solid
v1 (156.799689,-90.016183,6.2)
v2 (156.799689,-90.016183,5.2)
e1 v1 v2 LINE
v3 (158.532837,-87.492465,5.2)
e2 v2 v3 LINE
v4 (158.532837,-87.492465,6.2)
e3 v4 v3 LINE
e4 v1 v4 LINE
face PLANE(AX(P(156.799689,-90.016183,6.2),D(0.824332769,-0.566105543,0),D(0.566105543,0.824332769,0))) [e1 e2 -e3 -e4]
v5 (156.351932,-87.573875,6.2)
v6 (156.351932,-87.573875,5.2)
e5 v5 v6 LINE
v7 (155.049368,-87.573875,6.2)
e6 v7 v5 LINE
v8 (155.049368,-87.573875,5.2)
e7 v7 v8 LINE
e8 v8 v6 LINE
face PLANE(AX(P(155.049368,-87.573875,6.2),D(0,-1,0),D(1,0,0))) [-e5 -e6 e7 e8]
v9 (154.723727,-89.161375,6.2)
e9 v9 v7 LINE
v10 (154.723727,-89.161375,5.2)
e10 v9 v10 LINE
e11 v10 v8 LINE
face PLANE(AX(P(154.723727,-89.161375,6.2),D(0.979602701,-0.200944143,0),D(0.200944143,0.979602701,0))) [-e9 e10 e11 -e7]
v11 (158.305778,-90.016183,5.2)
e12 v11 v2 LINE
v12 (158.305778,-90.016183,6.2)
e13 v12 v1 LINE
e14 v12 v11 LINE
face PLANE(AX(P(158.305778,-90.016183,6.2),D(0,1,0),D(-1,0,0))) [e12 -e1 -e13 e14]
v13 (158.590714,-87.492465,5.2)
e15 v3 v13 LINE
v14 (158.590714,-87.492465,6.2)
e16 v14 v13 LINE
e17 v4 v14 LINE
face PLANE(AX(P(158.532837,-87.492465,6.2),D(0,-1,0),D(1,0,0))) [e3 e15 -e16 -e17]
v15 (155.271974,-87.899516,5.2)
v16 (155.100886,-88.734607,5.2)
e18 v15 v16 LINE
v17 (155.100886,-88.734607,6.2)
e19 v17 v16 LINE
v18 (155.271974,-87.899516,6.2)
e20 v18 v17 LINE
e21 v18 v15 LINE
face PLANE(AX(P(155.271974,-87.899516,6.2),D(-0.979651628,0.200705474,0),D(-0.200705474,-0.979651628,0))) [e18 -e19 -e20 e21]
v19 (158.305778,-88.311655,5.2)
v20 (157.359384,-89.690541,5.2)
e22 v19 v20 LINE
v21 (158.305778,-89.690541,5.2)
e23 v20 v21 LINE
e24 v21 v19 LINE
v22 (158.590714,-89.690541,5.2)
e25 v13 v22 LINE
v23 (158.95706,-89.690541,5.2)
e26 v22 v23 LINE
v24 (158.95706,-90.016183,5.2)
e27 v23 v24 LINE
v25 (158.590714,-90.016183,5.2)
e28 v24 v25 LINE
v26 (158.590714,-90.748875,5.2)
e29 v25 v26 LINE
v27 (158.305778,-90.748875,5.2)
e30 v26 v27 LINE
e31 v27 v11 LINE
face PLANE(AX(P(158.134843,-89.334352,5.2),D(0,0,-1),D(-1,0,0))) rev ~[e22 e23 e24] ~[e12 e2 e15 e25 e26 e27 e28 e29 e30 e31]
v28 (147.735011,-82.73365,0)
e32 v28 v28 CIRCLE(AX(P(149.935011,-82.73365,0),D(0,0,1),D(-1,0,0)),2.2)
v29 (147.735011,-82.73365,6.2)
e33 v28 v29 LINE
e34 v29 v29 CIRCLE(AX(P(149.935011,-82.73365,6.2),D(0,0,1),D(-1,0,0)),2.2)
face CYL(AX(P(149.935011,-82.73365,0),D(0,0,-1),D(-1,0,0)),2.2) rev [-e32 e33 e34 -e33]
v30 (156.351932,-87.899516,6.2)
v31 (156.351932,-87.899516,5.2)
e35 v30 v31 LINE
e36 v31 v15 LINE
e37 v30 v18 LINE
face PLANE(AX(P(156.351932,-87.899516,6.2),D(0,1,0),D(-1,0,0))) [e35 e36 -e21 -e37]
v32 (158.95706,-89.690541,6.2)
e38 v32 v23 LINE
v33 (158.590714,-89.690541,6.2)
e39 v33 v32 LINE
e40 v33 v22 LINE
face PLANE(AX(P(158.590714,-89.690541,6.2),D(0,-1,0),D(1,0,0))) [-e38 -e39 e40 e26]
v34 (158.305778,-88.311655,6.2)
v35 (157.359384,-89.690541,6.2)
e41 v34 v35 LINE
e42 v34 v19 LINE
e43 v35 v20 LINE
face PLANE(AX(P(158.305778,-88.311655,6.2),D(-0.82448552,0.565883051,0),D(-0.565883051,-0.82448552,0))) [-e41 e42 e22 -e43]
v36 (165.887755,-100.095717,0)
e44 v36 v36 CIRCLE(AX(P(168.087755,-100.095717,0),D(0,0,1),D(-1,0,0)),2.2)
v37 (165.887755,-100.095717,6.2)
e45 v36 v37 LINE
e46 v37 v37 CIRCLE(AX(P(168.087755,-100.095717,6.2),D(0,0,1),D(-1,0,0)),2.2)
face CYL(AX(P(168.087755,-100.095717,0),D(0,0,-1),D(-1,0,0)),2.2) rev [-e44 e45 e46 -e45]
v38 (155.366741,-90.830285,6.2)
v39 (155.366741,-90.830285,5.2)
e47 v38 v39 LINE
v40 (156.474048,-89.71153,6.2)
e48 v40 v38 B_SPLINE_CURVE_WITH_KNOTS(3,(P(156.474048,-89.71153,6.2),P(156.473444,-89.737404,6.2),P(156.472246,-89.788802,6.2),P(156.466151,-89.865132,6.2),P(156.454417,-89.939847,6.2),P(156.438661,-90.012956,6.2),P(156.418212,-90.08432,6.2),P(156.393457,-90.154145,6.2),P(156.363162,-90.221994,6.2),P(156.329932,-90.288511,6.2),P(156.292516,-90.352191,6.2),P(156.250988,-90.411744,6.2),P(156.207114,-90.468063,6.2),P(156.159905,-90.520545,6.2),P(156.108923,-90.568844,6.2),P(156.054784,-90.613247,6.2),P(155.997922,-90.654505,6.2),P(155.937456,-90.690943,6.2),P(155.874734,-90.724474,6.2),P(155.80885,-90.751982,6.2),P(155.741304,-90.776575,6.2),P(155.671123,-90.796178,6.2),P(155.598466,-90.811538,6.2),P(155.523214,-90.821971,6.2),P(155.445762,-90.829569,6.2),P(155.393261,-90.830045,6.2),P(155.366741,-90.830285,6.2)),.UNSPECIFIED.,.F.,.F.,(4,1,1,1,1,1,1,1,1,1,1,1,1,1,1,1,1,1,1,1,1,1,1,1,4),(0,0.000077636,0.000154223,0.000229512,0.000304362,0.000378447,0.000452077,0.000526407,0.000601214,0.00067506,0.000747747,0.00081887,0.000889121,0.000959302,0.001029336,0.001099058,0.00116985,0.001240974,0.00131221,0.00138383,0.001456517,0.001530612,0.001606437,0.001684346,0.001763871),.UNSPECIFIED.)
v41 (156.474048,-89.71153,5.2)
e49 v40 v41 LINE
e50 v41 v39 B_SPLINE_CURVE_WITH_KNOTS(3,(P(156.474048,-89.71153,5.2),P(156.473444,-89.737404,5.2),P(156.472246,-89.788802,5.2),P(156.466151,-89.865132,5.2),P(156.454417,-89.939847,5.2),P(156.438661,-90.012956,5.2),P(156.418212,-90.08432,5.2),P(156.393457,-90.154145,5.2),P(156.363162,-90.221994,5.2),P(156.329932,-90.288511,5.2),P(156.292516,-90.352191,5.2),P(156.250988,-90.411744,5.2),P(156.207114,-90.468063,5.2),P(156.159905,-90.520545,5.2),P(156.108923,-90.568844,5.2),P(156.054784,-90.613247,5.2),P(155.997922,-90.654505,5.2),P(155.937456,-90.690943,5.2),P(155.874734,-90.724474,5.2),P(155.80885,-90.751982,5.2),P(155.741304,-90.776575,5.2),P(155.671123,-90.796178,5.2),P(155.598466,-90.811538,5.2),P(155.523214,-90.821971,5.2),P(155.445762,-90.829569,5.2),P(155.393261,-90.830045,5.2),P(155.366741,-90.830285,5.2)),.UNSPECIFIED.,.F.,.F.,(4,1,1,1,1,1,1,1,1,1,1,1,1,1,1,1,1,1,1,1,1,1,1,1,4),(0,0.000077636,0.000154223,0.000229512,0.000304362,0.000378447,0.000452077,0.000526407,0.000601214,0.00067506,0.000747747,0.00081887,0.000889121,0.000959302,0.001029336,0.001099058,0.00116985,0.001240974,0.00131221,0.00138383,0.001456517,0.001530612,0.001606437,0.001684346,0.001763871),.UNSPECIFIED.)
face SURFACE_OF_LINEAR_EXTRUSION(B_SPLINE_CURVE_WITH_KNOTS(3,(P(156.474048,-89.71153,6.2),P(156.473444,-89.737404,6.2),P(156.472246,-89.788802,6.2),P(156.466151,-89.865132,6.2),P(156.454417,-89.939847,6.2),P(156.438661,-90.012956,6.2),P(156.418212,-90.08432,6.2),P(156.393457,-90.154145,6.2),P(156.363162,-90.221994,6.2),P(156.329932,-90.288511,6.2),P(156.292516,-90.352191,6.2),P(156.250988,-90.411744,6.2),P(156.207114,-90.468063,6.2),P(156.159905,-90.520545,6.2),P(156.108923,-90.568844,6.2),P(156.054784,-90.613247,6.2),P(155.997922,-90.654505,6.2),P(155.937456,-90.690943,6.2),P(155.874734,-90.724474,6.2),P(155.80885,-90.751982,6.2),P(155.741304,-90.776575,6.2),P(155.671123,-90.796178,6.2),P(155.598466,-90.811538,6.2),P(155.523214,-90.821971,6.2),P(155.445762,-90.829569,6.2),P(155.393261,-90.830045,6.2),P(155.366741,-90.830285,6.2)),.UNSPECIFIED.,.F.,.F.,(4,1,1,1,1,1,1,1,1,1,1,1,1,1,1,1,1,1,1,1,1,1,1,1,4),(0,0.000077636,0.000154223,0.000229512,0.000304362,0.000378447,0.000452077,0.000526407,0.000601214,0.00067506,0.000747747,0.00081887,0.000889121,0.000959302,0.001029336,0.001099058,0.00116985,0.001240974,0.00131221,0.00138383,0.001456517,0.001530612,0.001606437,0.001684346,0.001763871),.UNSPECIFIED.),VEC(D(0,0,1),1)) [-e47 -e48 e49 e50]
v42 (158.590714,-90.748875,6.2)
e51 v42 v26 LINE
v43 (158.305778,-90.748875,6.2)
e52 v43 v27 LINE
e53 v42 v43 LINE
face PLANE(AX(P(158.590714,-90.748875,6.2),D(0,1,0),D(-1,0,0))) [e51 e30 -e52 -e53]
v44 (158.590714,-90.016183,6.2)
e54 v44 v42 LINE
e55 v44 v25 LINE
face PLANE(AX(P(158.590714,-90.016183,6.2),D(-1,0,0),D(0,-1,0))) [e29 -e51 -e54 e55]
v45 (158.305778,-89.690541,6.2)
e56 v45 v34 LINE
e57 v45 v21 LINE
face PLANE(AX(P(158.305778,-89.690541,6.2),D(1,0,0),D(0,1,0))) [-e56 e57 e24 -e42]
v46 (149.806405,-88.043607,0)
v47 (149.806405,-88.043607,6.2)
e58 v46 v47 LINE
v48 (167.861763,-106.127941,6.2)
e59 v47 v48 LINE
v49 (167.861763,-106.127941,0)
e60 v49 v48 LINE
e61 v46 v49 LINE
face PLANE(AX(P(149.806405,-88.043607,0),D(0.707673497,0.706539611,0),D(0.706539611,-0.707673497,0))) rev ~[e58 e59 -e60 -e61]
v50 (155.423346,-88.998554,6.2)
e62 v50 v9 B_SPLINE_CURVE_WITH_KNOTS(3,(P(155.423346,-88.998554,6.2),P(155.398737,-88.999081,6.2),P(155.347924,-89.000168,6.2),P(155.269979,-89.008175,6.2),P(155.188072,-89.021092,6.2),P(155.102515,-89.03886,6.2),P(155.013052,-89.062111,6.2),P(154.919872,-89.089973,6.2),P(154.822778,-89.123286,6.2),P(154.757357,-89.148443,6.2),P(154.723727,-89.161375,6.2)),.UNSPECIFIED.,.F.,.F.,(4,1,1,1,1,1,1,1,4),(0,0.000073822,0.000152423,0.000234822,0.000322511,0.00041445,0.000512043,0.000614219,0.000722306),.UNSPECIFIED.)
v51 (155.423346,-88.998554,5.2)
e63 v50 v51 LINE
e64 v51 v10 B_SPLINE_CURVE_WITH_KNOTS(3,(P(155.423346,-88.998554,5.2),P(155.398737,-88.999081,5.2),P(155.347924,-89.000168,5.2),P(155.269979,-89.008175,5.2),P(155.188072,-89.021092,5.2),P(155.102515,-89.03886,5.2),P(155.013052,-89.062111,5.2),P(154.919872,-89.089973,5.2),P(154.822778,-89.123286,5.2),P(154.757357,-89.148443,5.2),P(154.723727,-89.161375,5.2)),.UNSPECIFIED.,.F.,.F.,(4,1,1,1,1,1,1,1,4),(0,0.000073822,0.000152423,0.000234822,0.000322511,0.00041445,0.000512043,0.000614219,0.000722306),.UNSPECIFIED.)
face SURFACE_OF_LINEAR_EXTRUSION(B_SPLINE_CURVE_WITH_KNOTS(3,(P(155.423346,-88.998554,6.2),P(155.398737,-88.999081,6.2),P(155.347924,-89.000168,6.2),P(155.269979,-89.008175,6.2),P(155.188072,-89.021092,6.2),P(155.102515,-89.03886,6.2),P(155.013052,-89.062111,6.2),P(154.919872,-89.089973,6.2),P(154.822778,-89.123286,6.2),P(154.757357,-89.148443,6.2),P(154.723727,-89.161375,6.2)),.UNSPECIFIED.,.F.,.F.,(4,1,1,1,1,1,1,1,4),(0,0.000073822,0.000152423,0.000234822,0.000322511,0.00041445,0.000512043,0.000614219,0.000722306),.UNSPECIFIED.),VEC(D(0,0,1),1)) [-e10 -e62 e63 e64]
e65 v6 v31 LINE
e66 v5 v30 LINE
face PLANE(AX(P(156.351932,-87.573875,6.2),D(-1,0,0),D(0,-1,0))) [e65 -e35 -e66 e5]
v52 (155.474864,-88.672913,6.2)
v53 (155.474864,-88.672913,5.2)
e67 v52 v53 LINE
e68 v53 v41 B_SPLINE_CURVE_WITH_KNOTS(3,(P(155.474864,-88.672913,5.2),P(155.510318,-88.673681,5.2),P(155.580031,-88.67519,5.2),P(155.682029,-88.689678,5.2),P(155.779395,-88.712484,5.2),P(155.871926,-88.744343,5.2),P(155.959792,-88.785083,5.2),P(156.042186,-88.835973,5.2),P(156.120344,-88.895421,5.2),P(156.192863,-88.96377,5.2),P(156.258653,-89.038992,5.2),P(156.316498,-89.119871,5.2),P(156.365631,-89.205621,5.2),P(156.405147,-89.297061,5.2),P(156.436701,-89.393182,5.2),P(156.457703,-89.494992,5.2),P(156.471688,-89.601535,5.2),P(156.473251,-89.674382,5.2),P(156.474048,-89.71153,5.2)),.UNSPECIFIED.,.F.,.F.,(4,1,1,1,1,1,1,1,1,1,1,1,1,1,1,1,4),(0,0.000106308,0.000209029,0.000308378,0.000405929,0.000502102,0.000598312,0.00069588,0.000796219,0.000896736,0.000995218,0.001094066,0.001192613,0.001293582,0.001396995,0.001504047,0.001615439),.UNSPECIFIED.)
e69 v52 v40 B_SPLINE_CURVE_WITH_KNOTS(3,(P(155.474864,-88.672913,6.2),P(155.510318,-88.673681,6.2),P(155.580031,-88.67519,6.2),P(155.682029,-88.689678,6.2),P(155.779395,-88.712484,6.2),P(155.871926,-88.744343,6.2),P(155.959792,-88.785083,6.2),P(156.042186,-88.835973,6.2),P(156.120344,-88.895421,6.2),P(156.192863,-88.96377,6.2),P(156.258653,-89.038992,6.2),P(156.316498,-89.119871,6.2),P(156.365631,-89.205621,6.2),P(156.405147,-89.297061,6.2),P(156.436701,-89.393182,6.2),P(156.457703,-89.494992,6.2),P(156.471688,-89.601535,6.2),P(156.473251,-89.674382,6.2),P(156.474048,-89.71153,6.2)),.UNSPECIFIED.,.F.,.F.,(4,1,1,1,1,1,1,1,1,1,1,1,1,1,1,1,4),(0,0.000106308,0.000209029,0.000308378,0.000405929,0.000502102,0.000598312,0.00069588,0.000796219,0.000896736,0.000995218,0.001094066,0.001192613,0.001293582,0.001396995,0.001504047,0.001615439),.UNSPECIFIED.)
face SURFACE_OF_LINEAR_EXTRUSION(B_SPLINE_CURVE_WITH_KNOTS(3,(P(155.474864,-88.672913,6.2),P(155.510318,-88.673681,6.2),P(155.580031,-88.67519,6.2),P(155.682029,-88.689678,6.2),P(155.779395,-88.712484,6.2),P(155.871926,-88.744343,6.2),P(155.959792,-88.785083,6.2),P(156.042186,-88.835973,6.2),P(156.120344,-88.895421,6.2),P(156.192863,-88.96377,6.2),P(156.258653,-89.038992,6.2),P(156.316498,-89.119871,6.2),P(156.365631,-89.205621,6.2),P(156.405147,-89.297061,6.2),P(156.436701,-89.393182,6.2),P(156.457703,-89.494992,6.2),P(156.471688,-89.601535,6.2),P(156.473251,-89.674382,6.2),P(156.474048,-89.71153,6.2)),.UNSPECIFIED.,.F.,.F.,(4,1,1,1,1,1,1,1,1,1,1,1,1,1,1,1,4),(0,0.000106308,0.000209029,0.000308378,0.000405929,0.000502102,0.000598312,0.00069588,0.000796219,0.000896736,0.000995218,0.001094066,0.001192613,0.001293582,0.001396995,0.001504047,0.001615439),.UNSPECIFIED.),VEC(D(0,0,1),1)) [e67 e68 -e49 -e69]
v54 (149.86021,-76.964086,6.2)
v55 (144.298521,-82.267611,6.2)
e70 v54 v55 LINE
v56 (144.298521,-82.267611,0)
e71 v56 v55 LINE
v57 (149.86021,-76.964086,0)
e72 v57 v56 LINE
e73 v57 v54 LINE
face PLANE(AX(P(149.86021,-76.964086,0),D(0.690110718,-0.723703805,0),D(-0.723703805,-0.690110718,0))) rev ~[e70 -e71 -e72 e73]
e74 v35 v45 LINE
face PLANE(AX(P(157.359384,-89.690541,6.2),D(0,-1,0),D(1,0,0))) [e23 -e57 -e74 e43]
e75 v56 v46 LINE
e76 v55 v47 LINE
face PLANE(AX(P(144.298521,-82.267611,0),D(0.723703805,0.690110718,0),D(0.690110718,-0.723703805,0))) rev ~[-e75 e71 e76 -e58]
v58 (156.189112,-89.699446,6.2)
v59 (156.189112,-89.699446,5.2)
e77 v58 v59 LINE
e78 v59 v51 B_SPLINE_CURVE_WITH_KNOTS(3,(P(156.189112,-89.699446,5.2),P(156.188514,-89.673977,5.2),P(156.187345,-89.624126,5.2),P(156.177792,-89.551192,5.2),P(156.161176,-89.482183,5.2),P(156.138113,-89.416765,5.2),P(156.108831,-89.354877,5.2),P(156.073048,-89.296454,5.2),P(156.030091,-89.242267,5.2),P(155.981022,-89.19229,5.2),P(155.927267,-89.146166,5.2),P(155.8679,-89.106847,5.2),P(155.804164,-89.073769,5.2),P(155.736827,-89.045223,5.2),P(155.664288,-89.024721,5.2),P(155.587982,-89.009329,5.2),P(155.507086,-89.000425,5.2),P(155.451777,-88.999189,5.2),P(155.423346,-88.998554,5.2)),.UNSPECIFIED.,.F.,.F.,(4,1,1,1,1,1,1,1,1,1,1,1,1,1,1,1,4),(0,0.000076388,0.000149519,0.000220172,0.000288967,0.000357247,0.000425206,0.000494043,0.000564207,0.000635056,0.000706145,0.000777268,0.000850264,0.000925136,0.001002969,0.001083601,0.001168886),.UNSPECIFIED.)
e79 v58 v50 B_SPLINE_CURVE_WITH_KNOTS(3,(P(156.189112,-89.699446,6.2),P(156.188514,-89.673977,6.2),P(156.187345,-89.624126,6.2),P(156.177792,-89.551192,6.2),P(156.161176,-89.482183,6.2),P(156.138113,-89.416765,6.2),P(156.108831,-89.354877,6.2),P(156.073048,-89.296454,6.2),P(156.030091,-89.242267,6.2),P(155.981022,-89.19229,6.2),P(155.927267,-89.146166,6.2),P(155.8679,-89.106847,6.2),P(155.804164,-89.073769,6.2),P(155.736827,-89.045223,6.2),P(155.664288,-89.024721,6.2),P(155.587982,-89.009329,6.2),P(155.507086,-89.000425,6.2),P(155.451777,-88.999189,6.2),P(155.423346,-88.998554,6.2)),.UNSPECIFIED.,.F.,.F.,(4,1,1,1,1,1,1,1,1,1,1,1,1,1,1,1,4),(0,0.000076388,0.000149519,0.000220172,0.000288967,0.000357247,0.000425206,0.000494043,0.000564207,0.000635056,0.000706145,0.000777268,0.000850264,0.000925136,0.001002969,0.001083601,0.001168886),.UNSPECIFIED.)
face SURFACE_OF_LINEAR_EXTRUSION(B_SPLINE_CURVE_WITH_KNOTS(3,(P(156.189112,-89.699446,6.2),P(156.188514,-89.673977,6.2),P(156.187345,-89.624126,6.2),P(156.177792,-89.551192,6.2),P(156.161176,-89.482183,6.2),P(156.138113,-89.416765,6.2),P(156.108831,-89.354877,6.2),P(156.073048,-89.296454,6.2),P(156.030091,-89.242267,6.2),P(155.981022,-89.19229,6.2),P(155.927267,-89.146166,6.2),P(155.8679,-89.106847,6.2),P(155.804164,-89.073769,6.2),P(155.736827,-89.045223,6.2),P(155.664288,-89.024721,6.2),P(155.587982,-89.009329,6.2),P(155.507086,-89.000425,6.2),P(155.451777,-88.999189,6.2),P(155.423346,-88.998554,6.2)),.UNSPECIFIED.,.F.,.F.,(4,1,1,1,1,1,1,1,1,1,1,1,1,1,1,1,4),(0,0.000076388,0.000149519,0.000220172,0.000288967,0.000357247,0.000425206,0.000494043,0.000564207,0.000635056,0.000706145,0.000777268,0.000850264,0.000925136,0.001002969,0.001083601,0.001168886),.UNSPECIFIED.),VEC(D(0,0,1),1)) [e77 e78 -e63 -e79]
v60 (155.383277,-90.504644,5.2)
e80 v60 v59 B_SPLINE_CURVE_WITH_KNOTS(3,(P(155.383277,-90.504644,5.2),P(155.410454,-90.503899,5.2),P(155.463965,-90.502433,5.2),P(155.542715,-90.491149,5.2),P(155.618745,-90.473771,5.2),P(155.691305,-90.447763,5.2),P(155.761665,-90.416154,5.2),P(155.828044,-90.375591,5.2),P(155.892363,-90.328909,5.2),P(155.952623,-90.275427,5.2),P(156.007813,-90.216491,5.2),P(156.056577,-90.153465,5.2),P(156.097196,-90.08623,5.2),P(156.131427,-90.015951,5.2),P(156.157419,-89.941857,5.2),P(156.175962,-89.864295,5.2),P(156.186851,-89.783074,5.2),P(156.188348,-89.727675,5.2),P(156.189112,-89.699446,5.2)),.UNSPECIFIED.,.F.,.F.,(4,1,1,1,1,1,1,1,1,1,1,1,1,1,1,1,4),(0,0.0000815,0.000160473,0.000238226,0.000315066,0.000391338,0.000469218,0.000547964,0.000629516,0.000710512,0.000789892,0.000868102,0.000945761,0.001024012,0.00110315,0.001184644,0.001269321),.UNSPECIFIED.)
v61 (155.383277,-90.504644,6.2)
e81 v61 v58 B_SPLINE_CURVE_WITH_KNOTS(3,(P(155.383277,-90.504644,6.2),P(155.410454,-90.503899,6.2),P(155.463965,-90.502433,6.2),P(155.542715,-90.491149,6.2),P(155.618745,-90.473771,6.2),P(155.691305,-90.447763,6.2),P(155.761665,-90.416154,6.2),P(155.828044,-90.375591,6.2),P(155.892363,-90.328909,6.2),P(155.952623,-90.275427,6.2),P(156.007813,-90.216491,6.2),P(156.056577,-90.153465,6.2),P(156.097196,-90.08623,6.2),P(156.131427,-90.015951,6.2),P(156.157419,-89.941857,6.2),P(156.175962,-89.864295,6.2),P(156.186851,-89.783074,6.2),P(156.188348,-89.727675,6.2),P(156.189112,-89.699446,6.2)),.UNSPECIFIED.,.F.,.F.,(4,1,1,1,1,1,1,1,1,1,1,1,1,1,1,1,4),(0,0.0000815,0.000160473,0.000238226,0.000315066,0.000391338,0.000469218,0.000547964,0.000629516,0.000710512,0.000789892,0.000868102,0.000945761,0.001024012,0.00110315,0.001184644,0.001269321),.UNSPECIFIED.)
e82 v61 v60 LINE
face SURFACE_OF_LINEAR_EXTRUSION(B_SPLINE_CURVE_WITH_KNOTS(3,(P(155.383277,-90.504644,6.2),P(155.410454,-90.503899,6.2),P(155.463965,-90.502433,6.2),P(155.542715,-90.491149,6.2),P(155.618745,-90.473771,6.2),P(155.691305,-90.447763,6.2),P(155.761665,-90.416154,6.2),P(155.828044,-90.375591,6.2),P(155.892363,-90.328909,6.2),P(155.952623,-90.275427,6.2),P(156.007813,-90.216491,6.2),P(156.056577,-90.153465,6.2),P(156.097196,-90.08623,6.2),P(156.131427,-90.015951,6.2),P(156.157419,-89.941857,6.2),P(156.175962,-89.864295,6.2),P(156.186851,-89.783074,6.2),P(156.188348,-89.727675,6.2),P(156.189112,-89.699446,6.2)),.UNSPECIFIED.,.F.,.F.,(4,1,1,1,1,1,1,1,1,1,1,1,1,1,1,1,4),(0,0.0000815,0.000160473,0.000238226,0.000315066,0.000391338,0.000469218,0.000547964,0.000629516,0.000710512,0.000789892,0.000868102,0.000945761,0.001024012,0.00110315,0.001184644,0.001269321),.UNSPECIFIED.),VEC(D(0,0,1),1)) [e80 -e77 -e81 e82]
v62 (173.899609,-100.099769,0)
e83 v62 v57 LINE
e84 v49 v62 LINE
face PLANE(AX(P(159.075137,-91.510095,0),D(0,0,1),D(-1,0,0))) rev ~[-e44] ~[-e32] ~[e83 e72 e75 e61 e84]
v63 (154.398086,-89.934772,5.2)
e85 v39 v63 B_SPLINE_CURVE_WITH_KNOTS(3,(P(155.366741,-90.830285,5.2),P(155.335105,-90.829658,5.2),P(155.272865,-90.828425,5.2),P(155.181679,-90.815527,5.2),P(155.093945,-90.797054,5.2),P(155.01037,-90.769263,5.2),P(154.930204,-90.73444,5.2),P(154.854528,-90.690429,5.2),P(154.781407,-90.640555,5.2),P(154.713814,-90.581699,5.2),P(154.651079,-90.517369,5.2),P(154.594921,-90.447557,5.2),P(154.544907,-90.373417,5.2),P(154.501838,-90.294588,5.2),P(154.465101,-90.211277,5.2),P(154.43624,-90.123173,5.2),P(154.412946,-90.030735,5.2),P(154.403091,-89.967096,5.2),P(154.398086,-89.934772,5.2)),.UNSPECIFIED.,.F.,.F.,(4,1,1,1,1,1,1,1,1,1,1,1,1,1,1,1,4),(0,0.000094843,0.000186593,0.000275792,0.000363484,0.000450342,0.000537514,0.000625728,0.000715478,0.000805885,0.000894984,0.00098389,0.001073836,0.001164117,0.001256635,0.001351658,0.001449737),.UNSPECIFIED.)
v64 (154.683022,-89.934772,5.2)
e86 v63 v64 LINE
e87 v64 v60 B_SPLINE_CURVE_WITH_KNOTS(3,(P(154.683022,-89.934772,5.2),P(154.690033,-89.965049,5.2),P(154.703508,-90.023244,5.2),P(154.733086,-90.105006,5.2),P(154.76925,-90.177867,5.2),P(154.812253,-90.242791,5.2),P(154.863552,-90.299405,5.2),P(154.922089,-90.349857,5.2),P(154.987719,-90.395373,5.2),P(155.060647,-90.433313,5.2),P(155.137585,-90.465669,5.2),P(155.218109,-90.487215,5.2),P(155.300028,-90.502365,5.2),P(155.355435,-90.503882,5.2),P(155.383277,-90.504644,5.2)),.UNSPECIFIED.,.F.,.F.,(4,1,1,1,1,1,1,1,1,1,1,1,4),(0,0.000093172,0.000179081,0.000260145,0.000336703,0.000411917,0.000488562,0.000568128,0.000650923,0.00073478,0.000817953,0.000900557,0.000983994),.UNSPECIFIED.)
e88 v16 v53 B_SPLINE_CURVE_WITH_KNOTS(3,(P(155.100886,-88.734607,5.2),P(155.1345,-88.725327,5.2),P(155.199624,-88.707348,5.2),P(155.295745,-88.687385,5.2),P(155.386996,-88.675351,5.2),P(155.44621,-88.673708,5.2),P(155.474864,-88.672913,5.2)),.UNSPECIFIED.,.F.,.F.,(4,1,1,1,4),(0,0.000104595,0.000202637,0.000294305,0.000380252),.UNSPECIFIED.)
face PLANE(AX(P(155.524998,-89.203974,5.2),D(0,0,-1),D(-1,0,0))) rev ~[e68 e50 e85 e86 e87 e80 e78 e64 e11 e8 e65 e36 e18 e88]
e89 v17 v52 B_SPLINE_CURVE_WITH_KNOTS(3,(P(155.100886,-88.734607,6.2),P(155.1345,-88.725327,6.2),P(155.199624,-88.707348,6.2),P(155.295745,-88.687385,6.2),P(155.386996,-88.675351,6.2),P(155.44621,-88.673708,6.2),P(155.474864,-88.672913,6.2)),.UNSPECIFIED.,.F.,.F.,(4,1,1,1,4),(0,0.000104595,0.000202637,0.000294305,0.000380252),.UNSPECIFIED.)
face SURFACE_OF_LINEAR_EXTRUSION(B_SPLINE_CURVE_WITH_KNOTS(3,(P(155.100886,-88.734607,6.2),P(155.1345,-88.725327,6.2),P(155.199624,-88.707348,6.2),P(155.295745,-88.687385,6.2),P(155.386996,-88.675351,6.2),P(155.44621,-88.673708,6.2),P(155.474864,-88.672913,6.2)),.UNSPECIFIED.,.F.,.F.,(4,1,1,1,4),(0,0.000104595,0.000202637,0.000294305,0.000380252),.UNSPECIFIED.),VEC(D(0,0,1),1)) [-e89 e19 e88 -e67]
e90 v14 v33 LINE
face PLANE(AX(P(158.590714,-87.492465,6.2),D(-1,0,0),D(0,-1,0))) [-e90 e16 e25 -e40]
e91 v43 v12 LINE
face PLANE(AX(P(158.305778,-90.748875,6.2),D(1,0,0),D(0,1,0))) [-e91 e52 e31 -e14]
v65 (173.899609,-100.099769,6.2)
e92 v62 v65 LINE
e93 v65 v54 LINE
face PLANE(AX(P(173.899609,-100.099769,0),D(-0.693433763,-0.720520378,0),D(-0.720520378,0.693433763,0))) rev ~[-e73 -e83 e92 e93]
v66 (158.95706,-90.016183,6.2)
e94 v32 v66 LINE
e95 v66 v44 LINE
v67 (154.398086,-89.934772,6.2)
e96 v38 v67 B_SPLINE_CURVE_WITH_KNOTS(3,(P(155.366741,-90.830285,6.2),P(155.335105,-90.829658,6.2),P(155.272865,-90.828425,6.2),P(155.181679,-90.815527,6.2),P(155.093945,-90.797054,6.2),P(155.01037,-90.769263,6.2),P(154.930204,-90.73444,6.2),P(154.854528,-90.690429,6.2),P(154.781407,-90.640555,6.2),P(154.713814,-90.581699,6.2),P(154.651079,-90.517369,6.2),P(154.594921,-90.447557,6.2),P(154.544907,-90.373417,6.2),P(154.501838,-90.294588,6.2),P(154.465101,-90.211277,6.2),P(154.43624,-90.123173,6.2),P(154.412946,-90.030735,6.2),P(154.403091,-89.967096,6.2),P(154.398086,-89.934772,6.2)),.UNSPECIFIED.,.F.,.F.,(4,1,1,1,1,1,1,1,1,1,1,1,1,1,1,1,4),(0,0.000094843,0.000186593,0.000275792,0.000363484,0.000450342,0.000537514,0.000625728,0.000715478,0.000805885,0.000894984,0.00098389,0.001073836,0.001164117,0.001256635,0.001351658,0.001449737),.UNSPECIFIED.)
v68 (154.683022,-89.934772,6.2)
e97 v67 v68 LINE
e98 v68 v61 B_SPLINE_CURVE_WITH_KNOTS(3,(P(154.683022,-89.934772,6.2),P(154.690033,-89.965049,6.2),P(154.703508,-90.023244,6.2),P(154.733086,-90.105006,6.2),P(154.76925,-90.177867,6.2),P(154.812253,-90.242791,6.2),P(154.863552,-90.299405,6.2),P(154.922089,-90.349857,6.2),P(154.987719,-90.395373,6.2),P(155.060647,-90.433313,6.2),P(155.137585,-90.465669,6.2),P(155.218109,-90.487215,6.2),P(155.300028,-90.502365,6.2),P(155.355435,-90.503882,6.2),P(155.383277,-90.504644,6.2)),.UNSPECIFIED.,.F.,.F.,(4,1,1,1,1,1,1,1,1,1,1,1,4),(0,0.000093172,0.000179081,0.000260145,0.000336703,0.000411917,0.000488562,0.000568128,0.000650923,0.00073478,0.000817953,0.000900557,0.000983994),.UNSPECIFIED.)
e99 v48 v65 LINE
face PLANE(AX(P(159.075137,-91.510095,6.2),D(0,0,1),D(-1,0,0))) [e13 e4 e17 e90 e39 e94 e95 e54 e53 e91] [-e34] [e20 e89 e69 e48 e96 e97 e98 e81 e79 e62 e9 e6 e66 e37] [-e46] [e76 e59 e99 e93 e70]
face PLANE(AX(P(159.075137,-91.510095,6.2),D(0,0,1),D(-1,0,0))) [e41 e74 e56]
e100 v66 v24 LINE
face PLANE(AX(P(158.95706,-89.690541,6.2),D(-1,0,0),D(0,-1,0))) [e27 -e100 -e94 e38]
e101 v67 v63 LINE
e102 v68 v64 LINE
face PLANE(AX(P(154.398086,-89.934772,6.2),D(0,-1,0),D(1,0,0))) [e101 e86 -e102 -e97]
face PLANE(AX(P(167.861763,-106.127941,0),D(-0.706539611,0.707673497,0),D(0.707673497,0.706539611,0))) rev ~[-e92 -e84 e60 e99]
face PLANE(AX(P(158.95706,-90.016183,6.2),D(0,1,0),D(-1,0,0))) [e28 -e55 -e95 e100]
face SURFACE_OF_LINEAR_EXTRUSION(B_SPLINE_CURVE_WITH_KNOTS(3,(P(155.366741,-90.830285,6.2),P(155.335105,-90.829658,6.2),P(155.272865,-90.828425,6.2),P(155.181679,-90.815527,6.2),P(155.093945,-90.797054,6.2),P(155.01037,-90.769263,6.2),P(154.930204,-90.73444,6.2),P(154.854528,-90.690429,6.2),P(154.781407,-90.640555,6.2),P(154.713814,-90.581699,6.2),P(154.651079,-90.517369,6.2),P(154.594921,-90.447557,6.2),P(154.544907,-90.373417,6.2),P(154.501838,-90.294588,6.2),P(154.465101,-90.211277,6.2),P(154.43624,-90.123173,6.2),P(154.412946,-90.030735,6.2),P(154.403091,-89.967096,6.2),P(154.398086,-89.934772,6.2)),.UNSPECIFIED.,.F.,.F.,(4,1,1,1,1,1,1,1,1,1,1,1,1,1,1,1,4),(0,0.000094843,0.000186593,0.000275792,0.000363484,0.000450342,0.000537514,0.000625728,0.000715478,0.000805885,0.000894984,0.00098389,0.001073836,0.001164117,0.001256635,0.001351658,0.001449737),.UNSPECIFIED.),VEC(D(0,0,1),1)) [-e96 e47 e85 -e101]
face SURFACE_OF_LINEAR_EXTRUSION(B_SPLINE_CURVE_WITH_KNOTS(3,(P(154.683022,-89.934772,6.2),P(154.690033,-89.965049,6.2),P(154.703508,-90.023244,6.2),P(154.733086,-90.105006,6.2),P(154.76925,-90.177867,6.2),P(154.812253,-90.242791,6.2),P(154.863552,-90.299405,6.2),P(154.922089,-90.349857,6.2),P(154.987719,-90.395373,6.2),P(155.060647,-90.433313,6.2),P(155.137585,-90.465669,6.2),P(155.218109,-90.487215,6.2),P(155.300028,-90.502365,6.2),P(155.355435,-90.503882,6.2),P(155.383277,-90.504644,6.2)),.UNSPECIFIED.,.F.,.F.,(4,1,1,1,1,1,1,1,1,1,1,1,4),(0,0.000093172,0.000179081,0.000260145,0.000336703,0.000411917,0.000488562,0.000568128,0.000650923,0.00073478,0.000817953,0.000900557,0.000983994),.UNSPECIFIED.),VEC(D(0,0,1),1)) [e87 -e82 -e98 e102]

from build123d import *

# Parameters (mm, degrees)
SKETCH1_R           = 2.2
BOSS_EXTRUDE1_DEPTH = 6.2
CUT_EXTRUDE1_DEPTH  = 1


with BuildPart() as part:
    # Sketch1 → Boss-Extrude1 (new body)
    with BuildSketch(Plane(origin=(0, 0, 0), x_dir=(-1, 0, 0), z_dir=(0, 0, 1))):
        Polygon((-144.298520867, 82.267611076), (-149.806405315, 88.04360735), (-167.861763168, 106.127941253), (-173.899609442, 100.09976926), (-149.860209976, 76.964086023), align=None)
        with Locations((-149.935011138, 82.733649845)):
            Circle(SKETCH1_R, mode=Mode.SUBTRACT)
        with Locations((-168.087755201, 100.095717423)):
            Circle(SKETCH1_R, mode=Mode.SUBTRACT)
    extrude(amount=BOSS_EXTRUDE1_DEPTH)

    # Sketch2 → Cut-Extrude1 (cut)
    with BuildSketch(Plane.XY.offset(6.2)):
        with BuildLine():
            Line((156.351932178, -87.573874819), (156.351932178, -87.899515844))
            Line((156.351932178, -87.899515844), (155.271974245, -87.899515844))
            Line((155.271974245, -87.899515844), (155.100885503, -88.73460699))
            add(Edge.make_bspline(
                [(155.100885503, -88.73460699), (155.134500475, -88.725326672), (155.199624166, -88.707347524), (155.295744897, -88.687385146), (155.386996396, -88.675351494), (155.446210482, -88.673708376), (155.474863868, -88.67291328)],
                knots=[0, 0, 0, 0, 0.000104595, 0.000202637, 0.000294305, 0.000380252, 0.000380252, 0.000380252, 0.000380252], degree=3))
            add(Edge.make_bspline(
                [(155.474863868, -88.67291328), (155.510318404, -88.673680665), (155.580030878, -88.675189535), (155.682029066, -88.689678284), (155.779395334, -88.712483778), (155.871926055, -88.744343108), (155.959792412, -88.785082652), (156.042185985, -88.835973312), (156.120343521, -88.895421405), (156.192862874, -88.963770095), (156.258652782, -89.038991847), (156.316497644, -89.119870773), (156.365630851, -89.205620866), (156.405146679, -89.297061419), (156.436701039, -89.393181508), (156.457703206, -89.494992493), (156.471688363, -89.601534717), (156.473250814, -89.674382434), (156.474047562, -89.711530067)],
                knots=[0, 0, 0, 0, 0.000106308, 0.000209029, 0.000308378, 0.000405929, 0.000502102, 0.000598312, 0.00069588, 0.000796219, 0.000896736, 0.000995218, 0.001094066, 0.001192613, 0.001293582, 0.001396995, 0.001504047, 0.001615439, 0.001615439, 0.001615439, 0.001615439], degree=3))
            add(Edge.make_bspline(
                [(156.474047562, -89.711530067), (156.473444244, -89.737403796), (156.472245761, -89.788801592), (156.466151042, -89.865132402), (156.4544165, -89.939847258), (156.438661493, -90.012956071), (156.418212299, -90.08432043), (156.393457229, -90.154144601), (156.363162261, -90.221993995), (156.329932371, -90.288510603), (156.292515923, -90.352190677), (156.250988277, -90.411743687), (156.207113867, -90.468062999), (156.159904896, -90.5205446), (156.108922565, -90.568843623), (156.054784309, -90.613246707), (155.997922128, -90.654504771), (155.937456301, -90.690943062), (155.874734192, -90.724473744), (155.808850023, -90.751981524), (155.741303531, -90.776574646), (155.671122536, -90.796177575), (155.598466006, -90.811537821), (155.523214174, -90.821970508), (155.445761709, -90.829569134), (155.393260805, -90.8300448), (155.366740872, -90.830285075)],
                knots=[0, 0, 0, 0, 7.7636e-05, 0.000154223, 0.000229512, 0.000304362, 0.000378447, 0.000452077, 0.000526407, 0.000601214, 0.00067506, 0.000747747, 0.00081887, 0.000889121, 0.000959302, 0.001029336, 0.001099058, 0.00116985, 0.001240974, 0.00131221, 0.00138383, 0.001456517, 0.001530612, 0.001606437, 0.001684346, 0.001763871, 0.001763871, 0.001763871, 0.001763871], degree=3))
            add(Edge.make_bspline(
                [(155.366740872, -90.830285075), (155.335105008, -90.829658386), (155.272865183, -90.82842545), (155.181678668, -90.815527253), (155.093944705, -90.797054272), (155.010369541, -90.769262798), (154.930204181, -90.734440038), (154.854527858, -90.69042894), (154.781406904, -90.640555039), (154.713813842, -90.58169929), (154.651079368, -90.517368635), (154.594921321, -90.447557061), (154.54490729, -90.373416781), (154.501838191, -90.294587742), (154.4651007, -90.211277074), (154.436239961, -90.123172638), (154.412946025, -90.030734777), (154.403091351, -89.967095521), (154.398086024, -89.934772255)],
                knots=[0, 0, 0, 0, 9.4843e-05, 0.000186593, 0.000275792, 0.000363484, 0.000450342, 0.000537514, 0.000625728, 0.000715478, 0.000805885, 0.000894984, 0.00098389, 0.001073836, 0.001164117, 0.001256635, 0.001351658, 0.001449737, 0.001449737, 0.001449737, 0.001449737], degree=3))
            Line((154.398086024, -89.934772255), (154.683021921, -89.934772255))
            add(Edge.make_bspline(
                [(154.683021921, -89.934772255), (154.690032827, -89.965049465), (154.703508177, -90.023243945), (154.733086249, -90.105005947), (154.769250293, -90.177866957), (154.812252809, -90.242790794), (154.863551765, -90.29940467), (154.922089176, -90.34985729), (154.987718896, -90.3953733), (155.06064704, -90.433312525), (155.137584619, -90.46566918), (155.21810916, -90.48721536), (155.300028103, -90.502365456), (155.35543491, -90.503881982), (155.38327733, -90.50464405)],
                knots=[0, 0, 0, 0, 9.3172e-05, 0.000179081, 0.000260145, 0.000336703, 0.000411917, 0.000488562, 0.000568128, 0.000650923, 0.00073478, 0.000817953, 0.000900557, 0.000983994, 0.000983994, 0.000983994, 0.000983994], degree=3))
            add(Edge.make_bspline(
                [(155.38327733, -90.50464405), (155.410453919, -90.503899487), (155.463964845, -90.502433437), (155.542715174, -90.491149476), (155.618745424, -90.473770822), (155.691305384, -90.447763167), (155.76166478, -90.41615403), (155.828043843, -90.375591068), (155.892362882, -90.32890948), (155.952622689, -90.275427394), (156.007812761, -90.2164906), (156.056577242, -90.153464679), (156.097196299, -90.086230111), (156.131426526, -90.015950894), (156.157419162, -89.941856774), (156.175962052, -89.864294994), (156.186850541, -89.783073976), (156.188348397, -89.727675388), (156.189111665, -89.699445732)],
                knots=[0, 0, 0, 0, 8.15e-05, 0.000160473, 0.000238226, 0.000315066, 0.000391338, 0.000469218, 0.000547964, 0.000629516, 0.000710512, 0.000789892, 0.000868102, 0.000945761, 0.001024012, 0.00110315, 0.001184644, 0.001269321, 0.001269321, 0.001269321, 0.001269321], degree=3))
            add(Edge.make_bspline(
                [(156.189111665, -89.699445732), (156.18851433, -89.673977015), (156.187345132, -89.624125624), (156.1777924, -89.551192058), (156.16117629, -89.482182941), (156.138113198, -89.416765029), (156.108831074, -89.354876621), (156.073047633, -89.296453844), (156.030091336, -89.242266724), (155.981022266, -89.192289908), (155.927266758, -89.146166343), (155.867899934, -89.106847064), (155.804164143, -89.073769082), (155.736827292, -89.045223112), (155.664287706, -89.024721007), (155.587981903, -89.009328711), (155.50708589, -89.000424775), (155.451776766, -88.999189348), (155.423346441, -88.998554306)],
                knots=[0, 0, 0, 0, 7.6388e-05, 0.000149519, 0.000220172, 0.000288967, 0.000357247, 0.000425206, 0.000494043, 0.000564207, 0.000635056, 0.000706145, 0.000777268, 0.000850264, 0.000925136, 0.001002969, 0.001083601, 0.001168886, 0.001168886, 0.001168886, 0.001168886], degree=3))
            add(Edge.make_bspline(
                [(155.423346441, -88.998554306), (155.398736627, -88.999080985), (155.347923604, -89.000168444), (155.269979326, -89.008175337), (155.188071834, -89.021092412), (155.102515113, -89.038859936), (155.013052224, -89.062110984), (154.91987196, -89.089973424), (154.822778404, -89.123285523), (154.757357326, -89.148442603), (154.72372705, -89.161374819)],
                knots=[0, 0, 0, 0, 7.3822e-05, 0.000152423, 0.000234822, 0.000322511, 0.00041445, 0.000512043, 0.000614219, 0.000722306, 0.000722306, 0.000722306, 0.000722306], degree=3))
            Line((154.72372705, -89.161374819), (155.049368075, -87.573874819))
            Line((155.049368075, -87.573874819), (156.351932178, -87.573874819))
        make_face()
        Polygon((158.532836625, -87.492464562), (158.590714229, -87.492464562), (158.590714229, -89.690541485), (158.957060383, -89.690541485), (158.957060383, -90.016182511), (158.590714229, -90.016182511), (158.590714229, -90.748874819), (158.305778332, -90.748874819), (158.305778332, -90.016182511), (156.799688588, -90.016182511), align=None)
        Polygon((158.305778332, -89.690541485), (158.305778332, -88.311655268), (157.359384101, -89.690541485), align=None, mode=Mode.SUBTRACT)
    extrude(amount=-CUT_EXTRUDE1_DEPTH, mode=Mode.SUBTRACT)


solid = part.part
